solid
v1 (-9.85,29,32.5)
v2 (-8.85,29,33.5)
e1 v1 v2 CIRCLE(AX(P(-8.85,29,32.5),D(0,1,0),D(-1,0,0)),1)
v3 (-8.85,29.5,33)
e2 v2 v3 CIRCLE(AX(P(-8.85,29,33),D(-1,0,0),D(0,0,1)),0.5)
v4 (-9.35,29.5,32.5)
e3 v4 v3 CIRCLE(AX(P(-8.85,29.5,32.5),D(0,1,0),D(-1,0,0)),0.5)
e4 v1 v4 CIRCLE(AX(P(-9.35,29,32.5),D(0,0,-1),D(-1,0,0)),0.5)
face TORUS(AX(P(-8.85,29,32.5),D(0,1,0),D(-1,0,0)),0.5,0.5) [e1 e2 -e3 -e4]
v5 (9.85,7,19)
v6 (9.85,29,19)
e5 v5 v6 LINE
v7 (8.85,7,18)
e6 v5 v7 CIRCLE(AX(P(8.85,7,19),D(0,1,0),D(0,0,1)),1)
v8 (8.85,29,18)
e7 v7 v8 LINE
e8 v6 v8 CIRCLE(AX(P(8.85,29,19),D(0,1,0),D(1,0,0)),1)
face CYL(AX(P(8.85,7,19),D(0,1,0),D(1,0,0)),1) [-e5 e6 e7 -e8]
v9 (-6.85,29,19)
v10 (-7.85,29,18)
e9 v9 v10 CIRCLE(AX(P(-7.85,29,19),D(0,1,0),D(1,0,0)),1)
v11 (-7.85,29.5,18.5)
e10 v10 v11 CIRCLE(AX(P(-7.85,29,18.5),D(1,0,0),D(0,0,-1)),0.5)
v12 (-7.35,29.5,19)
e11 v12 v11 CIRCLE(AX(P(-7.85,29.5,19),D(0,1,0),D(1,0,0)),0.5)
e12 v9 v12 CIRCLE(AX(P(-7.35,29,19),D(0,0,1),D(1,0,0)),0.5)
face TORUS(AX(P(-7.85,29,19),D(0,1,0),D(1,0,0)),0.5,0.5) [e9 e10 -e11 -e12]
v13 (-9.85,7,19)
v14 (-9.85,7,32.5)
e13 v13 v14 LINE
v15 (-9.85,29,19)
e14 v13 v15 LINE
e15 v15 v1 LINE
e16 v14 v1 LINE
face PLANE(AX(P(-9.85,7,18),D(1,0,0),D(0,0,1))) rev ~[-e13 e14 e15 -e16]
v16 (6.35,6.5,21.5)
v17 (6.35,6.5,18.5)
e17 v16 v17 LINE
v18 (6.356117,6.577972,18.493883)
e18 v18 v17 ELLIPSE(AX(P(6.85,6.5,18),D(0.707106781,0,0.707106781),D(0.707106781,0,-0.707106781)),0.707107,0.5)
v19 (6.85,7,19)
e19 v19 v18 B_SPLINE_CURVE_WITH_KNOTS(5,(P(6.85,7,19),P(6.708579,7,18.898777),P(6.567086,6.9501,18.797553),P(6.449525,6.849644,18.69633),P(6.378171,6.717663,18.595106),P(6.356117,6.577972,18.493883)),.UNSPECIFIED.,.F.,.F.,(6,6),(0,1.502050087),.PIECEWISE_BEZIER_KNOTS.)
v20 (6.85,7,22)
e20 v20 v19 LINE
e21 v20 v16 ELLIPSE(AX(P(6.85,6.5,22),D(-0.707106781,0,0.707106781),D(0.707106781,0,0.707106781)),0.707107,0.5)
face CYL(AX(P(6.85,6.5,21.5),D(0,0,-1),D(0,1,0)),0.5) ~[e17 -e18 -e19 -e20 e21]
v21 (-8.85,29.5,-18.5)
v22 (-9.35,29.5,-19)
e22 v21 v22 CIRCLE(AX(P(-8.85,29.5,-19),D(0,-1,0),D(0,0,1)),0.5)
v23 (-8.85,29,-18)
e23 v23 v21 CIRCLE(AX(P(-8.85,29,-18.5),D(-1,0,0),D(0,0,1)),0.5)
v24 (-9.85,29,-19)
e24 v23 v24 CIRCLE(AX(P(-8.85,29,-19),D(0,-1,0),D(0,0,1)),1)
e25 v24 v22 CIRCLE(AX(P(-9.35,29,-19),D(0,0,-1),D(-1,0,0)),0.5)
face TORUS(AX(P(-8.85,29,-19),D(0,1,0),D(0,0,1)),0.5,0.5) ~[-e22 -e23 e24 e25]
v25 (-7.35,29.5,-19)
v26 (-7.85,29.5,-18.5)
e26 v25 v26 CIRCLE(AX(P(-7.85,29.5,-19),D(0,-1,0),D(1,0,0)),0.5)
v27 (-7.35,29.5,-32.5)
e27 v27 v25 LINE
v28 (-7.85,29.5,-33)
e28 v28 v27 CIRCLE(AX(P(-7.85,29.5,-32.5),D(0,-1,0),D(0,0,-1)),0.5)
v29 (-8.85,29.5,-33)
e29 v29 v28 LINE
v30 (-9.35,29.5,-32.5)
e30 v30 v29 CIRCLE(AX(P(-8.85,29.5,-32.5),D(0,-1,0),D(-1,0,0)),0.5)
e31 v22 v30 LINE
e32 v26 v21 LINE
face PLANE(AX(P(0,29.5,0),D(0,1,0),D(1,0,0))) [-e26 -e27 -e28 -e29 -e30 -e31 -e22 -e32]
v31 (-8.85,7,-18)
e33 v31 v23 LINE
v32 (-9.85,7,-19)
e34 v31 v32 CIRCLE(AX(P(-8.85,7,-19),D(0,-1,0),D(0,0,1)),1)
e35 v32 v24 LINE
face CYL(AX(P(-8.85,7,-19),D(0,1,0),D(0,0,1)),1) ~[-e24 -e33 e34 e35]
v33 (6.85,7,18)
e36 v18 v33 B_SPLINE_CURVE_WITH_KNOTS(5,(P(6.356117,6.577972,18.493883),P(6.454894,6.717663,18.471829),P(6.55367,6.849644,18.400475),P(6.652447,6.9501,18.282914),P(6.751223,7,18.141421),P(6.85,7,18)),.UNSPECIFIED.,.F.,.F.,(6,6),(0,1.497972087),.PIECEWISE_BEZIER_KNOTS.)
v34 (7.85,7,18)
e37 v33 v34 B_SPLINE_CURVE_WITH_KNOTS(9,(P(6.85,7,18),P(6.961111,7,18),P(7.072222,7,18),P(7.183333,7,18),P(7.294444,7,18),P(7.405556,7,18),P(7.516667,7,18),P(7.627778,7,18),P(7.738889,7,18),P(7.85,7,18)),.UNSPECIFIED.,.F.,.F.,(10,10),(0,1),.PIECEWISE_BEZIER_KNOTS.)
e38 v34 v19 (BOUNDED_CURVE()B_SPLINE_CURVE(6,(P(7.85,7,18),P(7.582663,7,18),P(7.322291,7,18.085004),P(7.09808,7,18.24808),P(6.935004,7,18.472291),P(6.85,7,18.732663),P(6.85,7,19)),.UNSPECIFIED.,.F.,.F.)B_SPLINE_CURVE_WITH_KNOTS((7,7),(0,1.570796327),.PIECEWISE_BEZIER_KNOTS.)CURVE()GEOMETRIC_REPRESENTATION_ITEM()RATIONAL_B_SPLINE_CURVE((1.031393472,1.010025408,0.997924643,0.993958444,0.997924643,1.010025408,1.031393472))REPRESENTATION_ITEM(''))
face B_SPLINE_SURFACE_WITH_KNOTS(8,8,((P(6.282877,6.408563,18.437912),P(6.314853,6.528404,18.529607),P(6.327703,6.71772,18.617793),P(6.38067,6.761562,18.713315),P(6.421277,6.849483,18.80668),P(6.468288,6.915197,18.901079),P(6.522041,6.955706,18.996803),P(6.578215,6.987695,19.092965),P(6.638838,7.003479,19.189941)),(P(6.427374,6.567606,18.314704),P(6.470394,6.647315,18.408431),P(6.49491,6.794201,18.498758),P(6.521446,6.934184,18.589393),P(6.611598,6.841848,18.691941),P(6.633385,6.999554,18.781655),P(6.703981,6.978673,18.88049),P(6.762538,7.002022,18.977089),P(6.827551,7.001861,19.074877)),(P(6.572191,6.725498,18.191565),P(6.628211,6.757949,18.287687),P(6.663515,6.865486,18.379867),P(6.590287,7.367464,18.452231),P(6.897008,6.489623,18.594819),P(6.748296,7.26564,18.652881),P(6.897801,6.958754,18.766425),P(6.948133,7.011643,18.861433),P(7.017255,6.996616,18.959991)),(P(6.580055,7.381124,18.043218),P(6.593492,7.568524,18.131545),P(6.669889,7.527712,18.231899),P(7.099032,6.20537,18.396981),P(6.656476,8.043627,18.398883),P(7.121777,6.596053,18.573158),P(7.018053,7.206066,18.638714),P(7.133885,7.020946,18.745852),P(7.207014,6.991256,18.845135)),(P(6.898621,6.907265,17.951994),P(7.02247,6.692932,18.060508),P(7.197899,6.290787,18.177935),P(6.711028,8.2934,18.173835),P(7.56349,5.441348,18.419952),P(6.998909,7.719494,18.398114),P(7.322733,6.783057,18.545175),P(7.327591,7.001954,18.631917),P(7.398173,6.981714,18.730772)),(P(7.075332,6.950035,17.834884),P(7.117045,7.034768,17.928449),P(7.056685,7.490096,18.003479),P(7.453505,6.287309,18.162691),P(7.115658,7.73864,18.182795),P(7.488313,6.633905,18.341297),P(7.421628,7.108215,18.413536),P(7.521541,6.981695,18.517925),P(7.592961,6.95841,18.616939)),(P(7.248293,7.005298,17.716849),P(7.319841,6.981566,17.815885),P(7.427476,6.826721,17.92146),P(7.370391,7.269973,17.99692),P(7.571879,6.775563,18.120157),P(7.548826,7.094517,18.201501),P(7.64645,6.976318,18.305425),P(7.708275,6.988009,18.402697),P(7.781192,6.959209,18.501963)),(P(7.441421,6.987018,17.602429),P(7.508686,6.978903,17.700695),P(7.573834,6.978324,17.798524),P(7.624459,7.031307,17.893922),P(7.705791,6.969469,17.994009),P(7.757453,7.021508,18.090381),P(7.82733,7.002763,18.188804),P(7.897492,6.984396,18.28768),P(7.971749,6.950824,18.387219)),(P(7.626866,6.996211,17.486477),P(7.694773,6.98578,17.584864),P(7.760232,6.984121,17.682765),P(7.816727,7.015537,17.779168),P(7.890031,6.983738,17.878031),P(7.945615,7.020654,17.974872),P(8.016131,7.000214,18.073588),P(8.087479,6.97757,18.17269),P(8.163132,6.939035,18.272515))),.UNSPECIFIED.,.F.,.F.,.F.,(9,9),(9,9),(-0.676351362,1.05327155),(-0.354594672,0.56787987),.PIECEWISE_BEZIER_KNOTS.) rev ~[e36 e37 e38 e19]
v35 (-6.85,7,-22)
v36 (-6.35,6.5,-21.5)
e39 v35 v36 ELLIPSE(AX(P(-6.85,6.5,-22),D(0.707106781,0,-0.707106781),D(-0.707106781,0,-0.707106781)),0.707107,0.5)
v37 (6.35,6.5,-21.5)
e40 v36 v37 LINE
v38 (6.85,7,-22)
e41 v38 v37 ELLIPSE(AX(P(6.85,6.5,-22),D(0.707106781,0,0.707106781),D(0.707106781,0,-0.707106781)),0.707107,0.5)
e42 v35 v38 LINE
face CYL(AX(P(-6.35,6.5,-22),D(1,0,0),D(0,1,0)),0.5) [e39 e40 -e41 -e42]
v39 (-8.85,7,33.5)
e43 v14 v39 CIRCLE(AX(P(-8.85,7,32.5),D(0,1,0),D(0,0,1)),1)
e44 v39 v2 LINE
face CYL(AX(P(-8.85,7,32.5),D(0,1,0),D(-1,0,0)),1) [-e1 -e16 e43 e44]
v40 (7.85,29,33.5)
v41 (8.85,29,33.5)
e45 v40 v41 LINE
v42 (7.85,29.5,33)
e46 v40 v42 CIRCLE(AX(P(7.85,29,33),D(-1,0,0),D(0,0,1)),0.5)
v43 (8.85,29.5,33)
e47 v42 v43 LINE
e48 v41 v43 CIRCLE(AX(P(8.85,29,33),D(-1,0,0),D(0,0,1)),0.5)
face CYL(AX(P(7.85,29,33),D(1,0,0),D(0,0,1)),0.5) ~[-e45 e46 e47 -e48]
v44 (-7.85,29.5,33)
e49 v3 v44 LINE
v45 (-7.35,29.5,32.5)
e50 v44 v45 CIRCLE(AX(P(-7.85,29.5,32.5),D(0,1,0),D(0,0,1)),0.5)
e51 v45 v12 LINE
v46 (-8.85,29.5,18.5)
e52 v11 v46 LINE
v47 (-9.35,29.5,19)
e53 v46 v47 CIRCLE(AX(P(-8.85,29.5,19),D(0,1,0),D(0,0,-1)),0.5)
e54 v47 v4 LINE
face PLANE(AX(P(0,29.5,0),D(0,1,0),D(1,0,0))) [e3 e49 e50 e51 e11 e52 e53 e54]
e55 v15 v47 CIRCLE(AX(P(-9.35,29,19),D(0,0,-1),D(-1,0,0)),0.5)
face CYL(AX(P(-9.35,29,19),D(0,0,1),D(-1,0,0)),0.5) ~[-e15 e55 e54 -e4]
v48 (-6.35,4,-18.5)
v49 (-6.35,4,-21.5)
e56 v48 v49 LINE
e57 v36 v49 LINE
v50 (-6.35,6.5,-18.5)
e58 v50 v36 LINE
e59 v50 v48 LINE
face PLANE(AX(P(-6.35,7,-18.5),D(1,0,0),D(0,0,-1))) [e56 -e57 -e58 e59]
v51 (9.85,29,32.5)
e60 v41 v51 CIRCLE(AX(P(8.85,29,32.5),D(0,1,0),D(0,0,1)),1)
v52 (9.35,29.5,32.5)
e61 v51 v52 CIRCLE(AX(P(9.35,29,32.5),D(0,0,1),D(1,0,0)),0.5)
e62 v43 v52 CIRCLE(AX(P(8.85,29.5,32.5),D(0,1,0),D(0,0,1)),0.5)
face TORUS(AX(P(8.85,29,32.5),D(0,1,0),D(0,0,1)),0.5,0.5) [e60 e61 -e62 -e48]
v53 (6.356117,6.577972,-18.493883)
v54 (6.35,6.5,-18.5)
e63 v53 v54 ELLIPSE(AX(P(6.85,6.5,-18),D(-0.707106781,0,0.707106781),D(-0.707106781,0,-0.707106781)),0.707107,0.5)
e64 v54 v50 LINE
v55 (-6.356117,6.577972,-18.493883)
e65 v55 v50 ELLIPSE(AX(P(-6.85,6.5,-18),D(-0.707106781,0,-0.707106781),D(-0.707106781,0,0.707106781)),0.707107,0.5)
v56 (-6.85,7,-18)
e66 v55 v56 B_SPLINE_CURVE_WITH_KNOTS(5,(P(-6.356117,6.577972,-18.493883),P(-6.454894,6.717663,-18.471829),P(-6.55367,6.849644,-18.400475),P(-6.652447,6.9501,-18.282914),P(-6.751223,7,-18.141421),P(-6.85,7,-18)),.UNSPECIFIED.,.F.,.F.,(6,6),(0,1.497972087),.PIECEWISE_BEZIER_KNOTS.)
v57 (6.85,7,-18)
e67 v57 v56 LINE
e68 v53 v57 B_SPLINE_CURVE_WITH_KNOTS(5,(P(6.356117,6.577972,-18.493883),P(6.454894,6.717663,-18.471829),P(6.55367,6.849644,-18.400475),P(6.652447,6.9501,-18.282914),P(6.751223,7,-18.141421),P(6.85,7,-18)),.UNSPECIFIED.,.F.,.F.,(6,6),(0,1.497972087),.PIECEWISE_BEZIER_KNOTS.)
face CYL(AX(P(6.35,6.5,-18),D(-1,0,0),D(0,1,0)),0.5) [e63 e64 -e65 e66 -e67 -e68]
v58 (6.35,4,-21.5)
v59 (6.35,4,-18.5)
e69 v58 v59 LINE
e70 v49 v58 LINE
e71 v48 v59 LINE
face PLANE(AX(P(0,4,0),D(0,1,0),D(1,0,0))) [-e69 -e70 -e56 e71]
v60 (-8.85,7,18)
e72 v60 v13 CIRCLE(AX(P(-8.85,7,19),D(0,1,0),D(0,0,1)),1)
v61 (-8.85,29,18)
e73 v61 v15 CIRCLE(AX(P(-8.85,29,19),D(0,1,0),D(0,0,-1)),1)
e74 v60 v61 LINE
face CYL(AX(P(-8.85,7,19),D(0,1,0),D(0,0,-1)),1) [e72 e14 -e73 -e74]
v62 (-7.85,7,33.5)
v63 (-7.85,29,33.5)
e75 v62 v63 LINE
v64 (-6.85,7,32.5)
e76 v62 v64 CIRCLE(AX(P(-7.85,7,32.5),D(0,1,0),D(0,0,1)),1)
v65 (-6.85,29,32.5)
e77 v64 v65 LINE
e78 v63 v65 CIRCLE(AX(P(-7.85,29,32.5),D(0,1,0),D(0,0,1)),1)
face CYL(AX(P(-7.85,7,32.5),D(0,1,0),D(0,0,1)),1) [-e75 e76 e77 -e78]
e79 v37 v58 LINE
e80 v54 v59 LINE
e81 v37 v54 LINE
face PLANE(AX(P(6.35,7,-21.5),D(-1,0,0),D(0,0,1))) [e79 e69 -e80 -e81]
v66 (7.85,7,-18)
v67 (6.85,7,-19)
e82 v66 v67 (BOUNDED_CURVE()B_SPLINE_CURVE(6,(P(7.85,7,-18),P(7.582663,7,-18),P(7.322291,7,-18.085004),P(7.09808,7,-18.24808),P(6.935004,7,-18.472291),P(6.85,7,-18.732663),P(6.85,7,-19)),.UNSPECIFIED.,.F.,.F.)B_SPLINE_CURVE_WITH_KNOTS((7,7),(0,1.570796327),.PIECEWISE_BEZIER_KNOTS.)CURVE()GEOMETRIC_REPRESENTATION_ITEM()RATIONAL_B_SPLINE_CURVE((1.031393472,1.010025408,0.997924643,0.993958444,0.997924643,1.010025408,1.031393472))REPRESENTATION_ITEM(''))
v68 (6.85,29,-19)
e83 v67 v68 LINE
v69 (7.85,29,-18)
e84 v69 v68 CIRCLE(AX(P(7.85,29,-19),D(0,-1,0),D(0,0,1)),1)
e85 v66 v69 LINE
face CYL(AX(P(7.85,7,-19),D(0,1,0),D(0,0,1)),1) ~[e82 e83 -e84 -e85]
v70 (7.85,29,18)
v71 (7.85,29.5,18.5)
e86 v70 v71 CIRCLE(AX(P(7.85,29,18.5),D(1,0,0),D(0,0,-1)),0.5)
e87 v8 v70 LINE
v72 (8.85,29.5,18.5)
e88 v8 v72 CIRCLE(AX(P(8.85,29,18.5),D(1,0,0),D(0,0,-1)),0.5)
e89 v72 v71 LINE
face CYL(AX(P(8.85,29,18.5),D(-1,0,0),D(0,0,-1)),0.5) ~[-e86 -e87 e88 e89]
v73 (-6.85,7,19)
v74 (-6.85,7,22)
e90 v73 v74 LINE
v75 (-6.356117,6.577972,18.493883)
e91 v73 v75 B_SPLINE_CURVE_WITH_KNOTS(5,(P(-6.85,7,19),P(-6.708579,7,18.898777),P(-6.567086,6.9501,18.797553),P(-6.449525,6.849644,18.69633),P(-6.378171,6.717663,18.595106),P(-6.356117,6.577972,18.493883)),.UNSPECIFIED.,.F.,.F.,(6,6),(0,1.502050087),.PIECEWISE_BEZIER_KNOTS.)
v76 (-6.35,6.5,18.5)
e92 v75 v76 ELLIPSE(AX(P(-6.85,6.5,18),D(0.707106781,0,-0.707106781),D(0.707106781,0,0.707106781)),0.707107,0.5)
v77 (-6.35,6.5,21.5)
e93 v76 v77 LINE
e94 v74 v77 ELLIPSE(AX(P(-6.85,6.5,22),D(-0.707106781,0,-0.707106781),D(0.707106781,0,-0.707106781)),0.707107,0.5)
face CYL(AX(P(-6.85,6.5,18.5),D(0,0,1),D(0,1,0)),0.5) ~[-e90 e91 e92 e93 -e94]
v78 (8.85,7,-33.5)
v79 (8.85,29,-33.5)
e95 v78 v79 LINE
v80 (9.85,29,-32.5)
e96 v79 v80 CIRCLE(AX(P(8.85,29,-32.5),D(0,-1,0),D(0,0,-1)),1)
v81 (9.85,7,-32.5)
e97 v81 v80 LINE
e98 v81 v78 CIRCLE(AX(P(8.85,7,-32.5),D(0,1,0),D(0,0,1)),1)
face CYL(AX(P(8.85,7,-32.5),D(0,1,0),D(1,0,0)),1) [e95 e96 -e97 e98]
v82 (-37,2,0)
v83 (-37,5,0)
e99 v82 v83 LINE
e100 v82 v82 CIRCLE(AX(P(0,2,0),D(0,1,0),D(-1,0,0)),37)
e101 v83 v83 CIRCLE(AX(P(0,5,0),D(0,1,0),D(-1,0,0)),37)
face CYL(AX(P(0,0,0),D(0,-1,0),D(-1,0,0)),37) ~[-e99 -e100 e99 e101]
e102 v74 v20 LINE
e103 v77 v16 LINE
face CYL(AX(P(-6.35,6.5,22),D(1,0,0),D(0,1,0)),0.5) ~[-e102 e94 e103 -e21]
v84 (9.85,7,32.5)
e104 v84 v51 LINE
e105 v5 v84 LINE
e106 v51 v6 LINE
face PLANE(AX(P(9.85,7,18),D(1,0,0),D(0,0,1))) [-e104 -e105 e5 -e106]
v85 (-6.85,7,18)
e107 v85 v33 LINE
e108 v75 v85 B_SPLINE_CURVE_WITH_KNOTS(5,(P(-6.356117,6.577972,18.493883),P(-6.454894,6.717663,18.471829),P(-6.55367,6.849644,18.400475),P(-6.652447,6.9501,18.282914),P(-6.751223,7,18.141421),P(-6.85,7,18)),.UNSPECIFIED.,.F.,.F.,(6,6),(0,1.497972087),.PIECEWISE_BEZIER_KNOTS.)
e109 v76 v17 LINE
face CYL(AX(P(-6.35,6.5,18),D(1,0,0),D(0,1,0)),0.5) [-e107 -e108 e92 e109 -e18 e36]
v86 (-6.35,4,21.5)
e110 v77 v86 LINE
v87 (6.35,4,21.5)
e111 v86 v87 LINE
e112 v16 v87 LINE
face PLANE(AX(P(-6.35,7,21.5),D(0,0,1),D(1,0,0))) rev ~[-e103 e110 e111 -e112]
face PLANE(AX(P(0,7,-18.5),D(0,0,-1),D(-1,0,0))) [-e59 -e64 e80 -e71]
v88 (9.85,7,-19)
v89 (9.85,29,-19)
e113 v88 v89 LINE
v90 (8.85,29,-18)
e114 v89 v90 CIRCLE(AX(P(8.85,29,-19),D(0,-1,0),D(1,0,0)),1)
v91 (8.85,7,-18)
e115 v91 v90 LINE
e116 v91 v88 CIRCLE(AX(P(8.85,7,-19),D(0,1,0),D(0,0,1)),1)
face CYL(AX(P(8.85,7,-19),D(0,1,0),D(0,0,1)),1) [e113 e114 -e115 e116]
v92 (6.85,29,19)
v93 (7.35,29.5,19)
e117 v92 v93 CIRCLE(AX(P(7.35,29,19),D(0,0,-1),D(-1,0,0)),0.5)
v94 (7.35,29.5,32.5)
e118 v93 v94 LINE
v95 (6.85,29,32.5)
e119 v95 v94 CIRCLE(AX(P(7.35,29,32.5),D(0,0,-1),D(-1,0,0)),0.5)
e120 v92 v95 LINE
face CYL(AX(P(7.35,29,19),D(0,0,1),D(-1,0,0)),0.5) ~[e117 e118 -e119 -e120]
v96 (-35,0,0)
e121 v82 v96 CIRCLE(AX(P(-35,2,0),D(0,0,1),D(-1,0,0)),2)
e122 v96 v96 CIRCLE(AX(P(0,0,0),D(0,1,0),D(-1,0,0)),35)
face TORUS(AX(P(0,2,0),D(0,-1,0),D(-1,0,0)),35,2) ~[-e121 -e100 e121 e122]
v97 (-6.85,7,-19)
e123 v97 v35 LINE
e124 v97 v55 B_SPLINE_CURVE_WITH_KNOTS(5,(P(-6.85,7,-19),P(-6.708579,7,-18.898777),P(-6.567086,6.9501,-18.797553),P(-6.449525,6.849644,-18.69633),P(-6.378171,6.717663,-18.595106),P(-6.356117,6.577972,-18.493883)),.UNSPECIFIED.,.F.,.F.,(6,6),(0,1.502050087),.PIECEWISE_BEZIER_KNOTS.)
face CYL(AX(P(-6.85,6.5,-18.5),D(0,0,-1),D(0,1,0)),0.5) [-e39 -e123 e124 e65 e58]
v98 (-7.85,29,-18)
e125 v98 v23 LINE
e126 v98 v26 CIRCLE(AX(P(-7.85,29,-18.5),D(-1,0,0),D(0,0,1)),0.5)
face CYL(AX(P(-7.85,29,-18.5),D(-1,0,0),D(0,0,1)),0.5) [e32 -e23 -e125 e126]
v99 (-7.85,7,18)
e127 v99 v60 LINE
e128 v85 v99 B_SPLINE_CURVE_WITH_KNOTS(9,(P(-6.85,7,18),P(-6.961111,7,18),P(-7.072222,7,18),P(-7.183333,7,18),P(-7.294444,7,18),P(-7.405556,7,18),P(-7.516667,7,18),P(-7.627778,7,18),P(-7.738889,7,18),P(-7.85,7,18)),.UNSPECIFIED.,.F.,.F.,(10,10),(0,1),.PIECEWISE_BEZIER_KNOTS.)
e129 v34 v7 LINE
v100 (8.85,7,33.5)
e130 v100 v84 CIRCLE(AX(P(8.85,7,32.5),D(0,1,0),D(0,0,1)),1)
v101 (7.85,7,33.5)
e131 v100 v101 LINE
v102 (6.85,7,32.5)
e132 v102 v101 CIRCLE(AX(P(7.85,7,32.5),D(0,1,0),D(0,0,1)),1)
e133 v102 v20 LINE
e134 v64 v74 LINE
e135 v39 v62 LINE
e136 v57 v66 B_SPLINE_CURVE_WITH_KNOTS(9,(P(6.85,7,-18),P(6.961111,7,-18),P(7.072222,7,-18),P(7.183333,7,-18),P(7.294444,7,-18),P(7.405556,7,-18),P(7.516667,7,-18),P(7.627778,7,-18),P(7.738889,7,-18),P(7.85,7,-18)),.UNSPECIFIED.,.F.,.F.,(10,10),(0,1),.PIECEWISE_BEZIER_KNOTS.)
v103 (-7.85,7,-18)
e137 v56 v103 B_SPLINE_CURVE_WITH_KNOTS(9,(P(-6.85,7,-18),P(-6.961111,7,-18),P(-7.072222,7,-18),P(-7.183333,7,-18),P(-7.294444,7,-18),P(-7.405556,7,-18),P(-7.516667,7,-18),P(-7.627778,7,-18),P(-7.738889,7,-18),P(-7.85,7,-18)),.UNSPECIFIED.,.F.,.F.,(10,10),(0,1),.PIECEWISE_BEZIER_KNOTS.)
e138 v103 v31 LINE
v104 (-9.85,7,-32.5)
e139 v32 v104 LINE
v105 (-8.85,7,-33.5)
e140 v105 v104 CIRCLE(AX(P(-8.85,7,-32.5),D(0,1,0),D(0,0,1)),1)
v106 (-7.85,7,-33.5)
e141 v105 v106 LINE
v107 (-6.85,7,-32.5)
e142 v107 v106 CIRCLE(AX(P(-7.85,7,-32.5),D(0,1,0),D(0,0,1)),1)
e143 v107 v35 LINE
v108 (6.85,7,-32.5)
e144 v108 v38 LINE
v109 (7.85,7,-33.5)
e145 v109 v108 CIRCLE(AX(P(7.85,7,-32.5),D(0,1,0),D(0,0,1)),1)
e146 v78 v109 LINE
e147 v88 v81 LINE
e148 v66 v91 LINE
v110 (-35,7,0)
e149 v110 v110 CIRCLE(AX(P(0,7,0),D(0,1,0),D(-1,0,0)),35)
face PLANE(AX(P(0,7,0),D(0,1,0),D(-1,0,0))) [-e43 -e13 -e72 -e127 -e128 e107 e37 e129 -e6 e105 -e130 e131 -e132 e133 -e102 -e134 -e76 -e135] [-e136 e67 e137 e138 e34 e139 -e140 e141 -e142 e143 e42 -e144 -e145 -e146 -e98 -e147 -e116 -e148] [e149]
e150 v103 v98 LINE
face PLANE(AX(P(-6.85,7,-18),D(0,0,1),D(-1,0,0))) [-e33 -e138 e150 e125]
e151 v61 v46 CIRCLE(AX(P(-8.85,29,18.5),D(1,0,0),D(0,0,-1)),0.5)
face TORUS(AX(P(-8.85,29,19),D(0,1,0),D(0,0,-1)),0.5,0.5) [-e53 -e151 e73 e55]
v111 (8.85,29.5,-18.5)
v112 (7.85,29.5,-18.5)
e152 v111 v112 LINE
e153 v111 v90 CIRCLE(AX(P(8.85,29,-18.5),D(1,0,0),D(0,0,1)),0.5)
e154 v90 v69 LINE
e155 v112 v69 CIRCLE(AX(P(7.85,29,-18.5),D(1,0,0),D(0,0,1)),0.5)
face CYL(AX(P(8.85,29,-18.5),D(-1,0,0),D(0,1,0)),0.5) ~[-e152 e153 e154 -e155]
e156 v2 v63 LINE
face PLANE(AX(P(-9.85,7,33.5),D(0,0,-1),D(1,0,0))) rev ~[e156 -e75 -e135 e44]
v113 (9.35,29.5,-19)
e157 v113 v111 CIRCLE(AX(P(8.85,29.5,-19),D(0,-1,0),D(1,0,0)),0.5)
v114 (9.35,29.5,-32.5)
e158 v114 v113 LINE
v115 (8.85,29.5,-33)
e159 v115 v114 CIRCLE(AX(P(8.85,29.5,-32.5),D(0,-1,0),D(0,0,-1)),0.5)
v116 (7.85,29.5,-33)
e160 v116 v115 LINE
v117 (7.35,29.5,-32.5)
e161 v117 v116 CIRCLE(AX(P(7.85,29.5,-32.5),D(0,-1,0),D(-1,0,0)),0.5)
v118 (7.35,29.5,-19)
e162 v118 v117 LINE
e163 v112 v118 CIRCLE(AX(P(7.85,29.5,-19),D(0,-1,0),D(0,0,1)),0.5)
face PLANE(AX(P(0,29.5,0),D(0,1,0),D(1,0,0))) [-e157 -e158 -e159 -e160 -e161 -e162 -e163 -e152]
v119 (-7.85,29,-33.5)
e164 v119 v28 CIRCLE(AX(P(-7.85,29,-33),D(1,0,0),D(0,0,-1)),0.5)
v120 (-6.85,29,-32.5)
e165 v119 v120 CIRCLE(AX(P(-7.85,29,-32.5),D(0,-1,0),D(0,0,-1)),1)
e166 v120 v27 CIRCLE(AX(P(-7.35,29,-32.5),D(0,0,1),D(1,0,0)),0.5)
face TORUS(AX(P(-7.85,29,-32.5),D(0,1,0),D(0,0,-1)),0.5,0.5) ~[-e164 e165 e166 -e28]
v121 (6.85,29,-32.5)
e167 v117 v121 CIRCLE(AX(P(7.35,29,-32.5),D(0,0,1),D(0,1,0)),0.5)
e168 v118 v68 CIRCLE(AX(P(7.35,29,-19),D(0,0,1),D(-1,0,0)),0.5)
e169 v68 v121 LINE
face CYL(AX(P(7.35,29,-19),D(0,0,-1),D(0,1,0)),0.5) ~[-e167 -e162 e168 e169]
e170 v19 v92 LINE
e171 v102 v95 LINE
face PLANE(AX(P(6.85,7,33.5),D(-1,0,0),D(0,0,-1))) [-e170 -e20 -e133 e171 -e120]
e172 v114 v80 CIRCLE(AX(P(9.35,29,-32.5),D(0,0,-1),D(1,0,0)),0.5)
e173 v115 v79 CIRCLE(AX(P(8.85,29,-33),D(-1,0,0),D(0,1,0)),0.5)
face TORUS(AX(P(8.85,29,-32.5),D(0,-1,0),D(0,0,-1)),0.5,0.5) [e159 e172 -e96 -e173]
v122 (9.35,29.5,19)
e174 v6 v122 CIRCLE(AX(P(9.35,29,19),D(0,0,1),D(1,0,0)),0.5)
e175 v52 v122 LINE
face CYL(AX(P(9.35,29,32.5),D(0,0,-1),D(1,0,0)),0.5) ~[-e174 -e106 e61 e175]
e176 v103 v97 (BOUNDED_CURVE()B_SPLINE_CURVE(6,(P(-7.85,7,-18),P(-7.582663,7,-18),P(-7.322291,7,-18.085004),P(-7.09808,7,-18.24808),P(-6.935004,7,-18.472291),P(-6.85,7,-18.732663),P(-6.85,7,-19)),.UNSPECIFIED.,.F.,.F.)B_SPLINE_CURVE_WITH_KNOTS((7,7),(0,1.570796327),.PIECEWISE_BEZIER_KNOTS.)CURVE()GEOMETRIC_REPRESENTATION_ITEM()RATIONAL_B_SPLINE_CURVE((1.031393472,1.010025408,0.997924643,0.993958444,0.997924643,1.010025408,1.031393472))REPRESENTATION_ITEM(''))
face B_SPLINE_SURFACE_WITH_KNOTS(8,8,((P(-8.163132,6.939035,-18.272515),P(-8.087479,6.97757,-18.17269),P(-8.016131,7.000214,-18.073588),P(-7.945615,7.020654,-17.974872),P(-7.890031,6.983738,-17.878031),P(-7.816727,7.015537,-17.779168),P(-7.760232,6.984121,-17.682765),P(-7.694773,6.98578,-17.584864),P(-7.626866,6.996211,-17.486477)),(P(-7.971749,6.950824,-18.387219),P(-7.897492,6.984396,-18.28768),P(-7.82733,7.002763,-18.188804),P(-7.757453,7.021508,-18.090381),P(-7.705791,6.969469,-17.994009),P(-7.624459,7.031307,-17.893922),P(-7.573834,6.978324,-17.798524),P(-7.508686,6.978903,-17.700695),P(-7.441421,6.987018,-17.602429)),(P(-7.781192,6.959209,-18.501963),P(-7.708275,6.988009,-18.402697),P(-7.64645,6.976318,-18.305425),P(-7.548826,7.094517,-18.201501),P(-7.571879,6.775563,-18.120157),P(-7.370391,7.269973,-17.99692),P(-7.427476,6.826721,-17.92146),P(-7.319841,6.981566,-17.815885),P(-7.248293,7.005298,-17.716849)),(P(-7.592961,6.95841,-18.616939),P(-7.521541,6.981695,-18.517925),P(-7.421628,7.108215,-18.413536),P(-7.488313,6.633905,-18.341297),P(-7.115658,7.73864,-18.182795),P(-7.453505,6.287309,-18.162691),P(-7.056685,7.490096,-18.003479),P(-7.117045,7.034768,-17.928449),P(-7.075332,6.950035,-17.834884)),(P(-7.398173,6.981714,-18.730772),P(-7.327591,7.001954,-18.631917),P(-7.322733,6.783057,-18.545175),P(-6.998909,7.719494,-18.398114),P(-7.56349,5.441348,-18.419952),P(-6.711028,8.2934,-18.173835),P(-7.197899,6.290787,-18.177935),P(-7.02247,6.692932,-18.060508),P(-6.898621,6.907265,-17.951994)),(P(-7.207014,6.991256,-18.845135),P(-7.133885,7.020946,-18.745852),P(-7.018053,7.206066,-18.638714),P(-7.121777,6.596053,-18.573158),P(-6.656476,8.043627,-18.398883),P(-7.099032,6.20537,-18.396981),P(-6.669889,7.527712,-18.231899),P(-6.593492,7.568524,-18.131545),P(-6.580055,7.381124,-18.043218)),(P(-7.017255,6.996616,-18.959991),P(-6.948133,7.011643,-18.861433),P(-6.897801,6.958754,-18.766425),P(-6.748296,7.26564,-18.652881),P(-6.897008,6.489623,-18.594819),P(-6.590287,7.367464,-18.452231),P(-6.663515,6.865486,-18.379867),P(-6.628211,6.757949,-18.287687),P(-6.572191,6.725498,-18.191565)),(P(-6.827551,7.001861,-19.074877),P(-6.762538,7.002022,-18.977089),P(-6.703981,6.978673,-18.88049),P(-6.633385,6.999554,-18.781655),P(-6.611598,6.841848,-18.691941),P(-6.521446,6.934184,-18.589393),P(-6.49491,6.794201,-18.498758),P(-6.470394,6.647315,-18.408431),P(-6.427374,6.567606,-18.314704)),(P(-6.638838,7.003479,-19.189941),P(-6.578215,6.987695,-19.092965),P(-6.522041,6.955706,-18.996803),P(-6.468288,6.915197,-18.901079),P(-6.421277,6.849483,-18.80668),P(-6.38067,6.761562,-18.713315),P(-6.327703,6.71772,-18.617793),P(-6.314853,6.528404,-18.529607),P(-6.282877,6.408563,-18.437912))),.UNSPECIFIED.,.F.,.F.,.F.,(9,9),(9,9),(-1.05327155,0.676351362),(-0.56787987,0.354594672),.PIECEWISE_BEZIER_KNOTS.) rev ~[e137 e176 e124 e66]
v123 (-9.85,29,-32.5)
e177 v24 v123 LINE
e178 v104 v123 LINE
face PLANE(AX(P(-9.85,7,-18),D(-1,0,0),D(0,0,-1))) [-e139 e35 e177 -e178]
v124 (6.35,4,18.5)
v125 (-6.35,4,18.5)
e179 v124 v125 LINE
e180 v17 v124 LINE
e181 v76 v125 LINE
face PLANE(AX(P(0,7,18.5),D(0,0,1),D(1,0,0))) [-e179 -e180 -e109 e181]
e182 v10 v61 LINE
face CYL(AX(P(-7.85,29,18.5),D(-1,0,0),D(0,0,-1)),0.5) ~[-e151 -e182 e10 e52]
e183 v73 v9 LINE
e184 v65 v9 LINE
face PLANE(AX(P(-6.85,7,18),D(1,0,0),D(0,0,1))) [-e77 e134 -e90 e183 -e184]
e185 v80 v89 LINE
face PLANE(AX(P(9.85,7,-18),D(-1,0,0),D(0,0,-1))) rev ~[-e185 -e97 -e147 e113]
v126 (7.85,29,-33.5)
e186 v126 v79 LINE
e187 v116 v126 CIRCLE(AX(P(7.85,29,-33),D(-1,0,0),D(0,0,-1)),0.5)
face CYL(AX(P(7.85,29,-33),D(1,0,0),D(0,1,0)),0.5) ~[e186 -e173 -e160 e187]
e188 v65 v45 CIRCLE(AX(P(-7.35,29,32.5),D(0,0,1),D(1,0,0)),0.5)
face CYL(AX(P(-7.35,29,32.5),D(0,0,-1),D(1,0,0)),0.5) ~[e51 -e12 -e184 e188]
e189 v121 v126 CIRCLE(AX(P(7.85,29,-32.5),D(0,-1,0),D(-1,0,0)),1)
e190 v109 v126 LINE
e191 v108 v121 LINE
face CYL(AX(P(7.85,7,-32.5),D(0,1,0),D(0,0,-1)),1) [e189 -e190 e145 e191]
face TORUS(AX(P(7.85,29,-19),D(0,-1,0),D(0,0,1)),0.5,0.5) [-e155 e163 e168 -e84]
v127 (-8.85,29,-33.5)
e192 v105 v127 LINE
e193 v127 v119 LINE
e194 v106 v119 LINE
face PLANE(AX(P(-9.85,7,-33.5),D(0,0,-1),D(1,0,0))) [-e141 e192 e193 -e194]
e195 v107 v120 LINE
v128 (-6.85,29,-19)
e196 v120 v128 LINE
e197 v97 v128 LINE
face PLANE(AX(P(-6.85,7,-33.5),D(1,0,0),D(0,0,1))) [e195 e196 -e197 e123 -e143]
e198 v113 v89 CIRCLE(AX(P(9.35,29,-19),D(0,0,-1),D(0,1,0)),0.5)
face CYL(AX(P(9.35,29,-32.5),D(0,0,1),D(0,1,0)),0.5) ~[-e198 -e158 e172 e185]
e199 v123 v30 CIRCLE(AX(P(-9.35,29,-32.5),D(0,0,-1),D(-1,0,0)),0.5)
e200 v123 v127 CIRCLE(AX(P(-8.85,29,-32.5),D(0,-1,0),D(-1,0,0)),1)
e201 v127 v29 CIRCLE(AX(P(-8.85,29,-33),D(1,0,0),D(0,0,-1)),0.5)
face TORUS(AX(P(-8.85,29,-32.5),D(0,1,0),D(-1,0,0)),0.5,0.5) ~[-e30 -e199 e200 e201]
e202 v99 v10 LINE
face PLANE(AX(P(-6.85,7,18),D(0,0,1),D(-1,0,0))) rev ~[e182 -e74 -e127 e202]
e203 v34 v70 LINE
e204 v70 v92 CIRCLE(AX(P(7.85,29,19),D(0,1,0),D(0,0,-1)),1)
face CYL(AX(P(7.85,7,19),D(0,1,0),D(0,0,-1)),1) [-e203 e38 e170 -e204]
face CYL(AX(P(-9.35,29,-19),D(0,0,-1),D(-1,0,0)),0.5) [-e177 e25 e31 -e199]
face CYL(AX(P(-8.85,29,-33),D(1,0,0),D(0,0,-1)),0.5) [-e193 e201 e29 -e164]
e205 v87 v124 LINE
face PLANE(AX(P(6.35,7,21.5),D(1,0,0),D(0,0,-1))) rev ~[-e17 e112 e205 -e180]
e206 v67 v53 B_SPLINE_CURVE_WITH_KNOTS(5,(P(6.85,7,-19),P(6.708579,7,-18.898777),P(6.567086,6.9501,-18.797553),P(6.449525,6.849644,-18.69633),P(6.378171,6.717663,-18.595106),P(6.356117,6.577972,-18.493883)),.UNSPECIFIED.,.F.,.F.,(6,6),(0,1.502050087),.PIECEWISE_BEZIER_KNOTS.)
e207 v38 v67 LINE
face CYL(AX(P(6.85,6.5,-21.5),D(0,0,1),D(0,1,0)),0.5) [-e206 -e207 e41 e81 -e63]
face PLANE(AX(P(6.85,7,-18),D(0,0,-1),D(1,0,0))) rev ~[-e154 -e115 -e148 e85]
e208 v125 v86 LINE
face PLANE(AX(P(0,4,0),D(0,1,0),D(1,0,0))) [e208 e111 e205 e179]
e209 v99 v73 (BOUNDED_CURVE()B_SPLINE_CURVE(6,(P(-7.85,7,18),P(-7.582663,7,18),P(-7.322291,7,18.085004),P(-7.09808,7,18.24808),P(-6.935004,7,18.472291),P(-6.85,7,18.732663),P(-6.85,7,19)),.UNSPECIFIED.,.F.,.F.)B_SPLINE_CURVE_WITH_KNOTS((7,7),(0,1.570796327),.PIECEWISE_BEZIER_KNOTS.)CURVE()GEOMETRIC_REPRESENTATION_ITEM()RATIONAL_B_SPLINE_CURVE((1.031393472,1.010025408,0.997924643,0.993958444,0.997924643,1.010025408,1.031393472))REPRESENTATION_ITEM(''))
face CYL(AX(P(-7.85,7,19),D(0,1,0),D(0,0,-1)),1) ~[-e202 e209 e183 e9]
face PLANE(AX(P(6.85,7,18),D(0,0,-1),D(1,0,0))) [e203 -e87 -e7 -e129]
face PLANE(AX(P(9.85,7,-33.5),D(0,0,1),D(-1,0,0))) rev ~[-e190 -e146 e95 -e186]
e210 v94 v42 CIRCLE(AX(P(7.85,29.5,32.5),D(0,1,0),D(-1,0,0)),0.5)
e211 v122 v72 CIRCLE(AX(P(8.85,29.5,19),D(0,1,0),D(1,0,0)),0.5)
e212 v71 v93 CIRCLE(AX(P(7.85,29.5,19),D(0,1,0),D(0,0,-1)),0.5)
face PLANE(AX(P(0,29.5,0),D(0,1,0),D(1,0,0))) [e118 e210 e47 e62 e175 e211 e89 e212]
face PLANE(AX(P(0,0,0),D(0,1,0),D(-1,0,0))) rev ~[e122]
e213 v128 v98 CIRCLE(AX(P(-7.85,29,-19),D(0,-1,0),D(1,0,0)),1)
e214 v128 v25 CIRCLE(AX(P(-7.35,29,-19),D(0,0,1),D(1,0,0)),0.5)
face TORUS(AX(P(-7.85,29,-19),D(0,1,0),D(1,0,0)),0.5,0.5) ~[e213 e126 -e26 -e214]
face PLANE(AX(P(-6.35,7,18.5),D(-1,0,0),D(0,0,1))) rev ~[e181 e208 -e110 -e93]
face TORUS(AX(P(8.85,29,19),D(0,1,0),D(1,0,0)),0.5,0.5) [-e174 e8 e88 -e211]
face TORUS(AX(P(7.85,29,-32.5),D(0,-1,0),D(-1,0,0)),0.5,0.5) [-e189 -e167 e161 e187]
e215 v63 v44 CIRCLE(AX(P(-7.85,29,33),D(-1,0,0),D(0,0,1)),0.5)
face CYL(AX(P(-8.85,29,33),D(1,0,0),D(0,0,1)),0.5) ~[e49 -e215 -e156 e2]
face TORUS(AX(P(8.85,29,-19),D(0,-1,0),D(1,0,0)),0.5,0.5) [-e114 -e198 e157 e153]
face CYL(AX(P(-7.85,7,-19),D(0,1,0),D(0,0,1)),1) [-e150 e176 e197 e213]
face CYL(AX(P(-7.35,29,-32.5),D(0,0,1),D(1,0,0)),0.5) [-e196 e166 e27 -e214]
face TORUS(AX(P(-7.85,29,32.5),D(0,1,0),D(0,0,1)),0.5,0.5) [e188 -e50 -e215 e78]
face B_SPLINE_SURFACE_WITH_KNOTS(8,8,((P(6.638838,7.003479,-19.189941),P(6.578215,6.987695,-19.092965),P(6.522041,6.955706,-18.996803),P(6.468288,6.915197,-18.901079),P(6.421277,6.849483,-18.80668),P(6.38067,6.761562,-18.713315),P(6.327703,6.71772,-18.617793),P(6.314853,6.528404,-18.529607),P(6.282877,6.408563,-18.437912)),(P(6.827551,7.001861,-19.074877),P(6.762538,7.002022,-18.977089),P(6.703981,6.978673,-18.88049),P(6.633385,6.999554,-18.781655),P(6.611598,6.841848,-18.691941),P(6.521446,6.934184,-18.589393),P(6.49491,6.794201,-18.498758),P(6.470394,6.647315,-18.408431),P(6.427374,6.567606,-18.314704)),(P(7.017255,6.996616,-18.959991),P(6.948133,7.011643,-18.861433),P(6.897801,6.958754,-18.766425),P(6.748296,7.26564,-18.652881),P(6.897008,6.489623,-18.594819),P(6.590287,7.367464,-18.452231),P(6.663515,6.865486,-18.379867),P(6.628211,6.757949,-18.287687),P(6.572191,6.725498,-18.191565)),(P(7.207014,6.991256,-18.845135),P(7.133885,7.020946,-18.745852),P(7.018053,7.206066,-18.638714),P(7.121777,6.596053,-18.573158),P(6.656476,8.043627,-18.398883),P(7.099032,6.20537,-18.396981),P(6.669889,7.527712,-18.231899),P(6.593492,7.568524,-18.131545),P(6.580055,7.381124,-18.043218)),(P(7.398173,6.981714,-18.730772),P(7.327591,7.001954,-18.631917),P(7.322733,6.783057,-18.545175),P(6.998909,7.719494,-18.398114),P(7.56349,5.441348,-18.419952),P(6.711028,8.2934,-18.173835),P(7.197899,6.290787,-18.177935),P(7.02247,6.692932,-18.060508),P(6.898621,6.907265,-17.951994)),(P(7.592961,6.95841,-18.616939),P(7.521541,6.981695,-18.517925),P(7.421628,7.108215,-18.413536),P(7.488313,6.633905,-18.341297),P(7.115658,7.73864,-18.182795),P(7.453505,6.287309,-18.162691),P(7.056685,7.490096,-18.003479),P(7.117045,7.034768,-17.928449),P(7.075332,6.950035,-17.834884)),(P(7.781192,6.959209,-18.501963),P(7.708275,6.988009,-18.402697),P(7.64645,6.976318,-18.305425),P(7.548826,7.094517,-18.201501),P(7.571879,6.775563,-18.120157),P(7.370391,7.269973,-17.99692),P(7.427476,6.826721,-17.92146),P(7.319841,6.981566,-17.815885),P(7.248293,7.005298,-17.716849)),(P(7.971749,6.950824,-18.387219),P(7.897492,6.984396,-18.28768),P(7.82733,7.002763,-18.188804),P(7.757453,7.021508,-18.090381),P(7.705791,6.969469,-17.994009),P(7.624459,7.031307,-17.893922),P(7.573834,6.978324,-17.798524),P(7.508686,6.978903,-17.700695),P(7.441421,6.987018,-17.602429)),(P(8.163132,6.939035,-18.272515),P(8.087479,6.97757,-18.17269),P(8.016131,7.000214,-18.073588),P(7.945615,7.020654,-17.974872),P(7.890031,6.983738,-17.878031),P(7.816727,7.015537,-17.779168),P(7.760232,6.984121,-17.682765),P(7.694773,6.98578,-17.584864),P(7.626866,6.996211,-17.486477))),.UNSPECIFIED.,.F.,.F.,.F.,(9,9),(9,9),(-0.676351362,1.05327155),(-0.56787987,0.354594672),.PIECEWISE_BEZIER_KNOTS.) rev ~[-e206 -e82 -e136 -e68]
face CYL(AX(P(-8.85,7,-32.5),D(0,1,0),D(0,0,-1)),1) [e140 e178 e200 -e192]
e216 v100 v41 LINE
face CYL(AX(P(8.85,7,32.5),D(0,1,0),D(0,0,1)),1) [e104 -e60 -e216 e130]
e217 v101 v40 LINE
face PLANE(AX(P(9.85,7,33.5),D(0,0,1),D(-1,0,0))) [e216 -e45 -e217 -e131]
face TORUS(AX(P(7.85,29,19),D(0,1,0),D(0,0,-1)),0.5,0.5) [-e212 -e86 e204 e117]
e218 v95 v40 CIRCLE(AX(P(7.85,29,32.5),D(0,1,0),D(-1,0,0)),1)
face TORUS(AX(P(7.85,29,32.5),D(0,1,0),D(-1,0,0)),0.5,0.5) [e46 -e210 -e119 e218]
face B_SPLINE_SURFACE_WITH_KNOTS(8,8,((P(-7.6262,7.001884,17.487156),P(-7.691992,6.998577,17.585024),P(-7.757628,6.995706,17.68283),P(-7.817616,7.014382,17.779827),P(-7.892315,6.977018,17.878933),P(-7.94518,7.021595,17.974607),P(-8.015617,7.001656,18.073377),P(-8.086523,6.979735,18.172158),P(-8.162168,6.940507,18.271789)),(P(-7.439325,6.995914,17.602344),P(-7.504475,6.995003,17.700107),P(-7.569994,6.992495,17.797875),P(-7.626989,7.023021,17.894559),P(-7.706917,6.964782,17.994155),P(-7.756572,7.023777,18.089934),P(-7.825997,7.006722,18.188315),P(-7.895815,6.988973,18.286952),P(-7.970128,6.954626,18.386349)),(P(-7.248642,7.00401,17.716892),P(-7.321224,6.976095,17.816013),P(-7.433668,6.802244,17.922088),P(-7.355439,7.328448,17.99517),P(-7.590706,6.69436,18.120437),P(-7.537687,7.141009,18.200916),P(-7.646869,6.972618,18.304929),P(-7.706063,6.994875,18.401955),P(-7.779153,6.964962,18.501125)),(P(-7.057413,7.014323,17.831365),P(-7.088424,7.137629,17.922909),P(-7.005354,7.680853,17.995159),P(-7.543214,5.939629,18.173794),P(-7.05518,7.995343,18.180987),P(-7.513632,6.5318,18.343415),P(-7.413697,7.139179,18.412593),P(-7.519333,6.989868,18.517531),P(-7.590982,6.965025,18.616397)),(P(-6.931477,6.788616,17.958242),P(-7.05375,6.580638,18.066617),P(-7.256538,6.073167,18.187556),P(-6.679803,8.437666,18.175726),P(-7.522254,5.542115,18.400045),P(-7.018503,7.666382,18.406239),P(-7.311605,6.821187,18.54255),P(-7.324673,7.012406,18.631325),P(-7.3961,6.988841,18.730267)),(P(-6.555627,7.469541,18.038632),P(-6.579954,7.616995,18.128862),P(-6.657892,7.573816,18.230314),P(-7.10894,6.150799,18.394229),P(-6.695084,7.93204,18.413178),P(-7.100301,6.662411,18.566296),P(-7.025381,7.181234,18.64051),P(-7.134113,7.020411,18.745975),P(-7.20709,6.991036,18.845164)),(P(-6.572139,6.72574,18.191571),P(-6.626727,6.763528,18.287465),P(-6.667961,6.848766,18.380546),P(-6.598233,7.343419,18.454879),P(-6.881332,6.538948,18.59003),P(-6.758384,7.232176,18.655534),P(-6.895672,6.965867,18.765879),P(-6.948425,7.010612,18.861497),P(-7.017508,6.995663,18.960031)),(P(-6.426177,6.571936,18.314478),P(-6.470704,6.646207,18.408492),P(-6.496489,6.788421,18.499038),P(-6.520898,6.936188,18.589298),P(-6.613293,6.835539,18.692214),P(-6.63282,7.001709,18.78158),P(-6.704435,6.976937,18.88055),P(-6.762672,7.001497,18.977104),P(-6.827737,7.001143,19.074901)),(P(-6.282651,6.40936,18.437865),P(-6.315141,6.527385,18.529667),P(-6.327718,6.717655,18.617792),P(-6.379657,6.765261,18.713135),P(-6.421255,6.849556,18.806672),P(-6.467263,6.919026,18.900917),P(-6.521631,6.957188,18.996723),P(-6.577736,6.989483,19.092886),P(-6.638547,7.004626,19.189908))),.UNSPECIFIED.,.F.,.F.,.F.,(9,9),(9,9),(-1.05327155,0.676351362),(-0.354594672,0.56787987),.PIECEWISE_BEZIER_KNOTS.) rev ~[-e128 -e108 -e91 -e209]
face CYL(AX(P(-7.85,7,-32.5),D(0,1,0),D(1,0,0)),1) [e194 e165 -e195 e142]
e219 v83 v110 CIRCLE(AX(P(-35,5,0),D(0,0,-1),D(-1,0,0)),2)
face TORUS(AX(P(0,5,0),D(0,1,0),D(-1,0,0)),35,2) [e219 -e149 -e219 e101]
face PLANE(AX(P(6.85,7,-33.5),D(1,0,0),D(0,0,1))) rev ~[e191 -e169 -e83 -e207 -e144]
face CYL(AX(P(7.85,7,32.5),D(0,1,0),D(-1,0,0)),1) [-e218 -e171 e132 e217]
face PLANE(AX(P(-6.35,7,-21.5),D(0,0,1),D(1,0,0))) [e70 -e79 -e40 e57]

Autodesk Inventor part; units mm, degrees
ref_plane "YZ Plane" through (0, 0, 0) normal (1, 0, 0) x (0, 1, 0)
ref_plane "XZ Plane" through (0, 0, 0) normal (0, 1, 0) x (-1, 0, 0)
ref_plane "XY Plane" through (0, 0, 0) normal (0, 0, 1) x (1, 0, 0)
sketch "Schizzo1" plane through (0, 0, 0) normal (0, 1, 0) x (-1, 0, 0)
  circle A0 centre (0, 0) radius 37
  dimension "d0" = 74
extrude "Estrusione1" add sketch "Schizzo1" along normal blind 7
fillet "Raccordo1" radius 2 1 edges at (37, 7, 0)
fillet "Raccordo2" radius 2 1 edges at (37, 0, 0)
sketch "Schizzo2" plane through (0, 7, 0) normal (0, 1, 0) x (1, 0, 0)
  circle A0 centre (0, 0) radius 35 projected
  line L0 (0, -18.5) -> (-6.35, -18.5)
  line L1 (0, -18.5) -> (6.35, -18.5)
  line L2 (-6.35, -18.5) -> (-6.35, -21.5)
  line L3 (-6.35, -21.5) -> (6.35, -21.5)
  line L4 (6.35, -21.5) -> (6.35, -18.5)
  line L5 (0, 18.5) -> (-6.35, 18.5)
  line L6 (0, 18.5) -> (6.35, 18.5)
  line L7 (-6.35, 18.5) -> (-6.35, 21.5)
  line L8 (-6.35, 21.5) -> (6.35, 21.5)
  line L9 (6.35, 21.5) -> (6.35, 18.5)
  dimension "d10" = 6.35
  dimension "d12" = 3
extrude "Estrusione2" cut sketch "Schizzo2" against normal blind 3 contours L1 L4 L3 L2 L0 | L5 L7 L8 L9 L6
fillet "Raccordo3" radius 0.5 8 edges at (0, 7, 18.5) (0, 7, 21.5) (-6.35, 7, 20) (6.35, 7, 20) (0, 7, -18.5) (-6.35, 7, -20) (0, 7, -21.5) (6.35, 7, -20)
sketch "Schizzo3" plane through (0, 7, 0) normal (0, 1, 0) x (1, 0, 0)
  line L0 (-6.85, -18) -> (-6.85, -22) projected
  line L1 (-6.85, -18) -> (-9.85, -18)
  line L2 (-9.85, -18) -> (-9.85, -33.5)
  line L3 (-9.85, -33.5) -> (-6.85, -33.5)
  line L4 (-6.85, -33.5) -> (-6.85, -18)
  line L5 (6.85, -18) -> (-6.85, -18) projected
  line L6 (6.85, -18) -> (9.85, -18)
  line L7 (9.85, -18) -> (9.85, -33.5)
  line L8 (9.85, -33.5) -> (6.85, -33.5)
  line L9 (6.85, -33.5) -> (6.85, -18)
  line L10 (-6.85, 18) -> (-9.85, 18)
  line L11 (-9.85, 18) -> (-9.85, 33.5)
  line L12 (-9.85, 33.5) -> (-6.85, 33.5)
  line L13 (-6.85, 33.5) -> (-6.85, 18)
  line L14 (9.85, 18) -> (9.85, 33.5)
  line L15 (9.85, 33.5) -> (6.85, 33.5)
  line L16 (6.85, 33.5) -> (6.85, 18)
  line L17 (6.85, 18) -> (9.85, 18)
  point P0 (0, 0)
  dimension "d16" = 15.5
  dimension "d17" = 3
extrude "Estrusione3" add sketch "Schizzo3" along normal blind 22.5
fillet "Raccordo4" radius 1 16 edges at (9.85, 18.25, 18) (-6.85, 18.25, 18) (-9.85, 18.25, 18) (6.85, 18.25, 18) (9.85, 18.25, -18) (6.85, 18.25, -18) (-6.85, 18.25, -18) (-9.85, 18.25, -18) (9.85, 18.25, -33.5) (6.85, 18.25, -33.5) (-6.85, 18.25, -33.5) (-9.85, 18.25, -33.5) (-9.85, 18.25, 33.5) (-6.85, 18.25, 33.5) (6.85, 18.25, 33.5) (9.85, 18.25, 33.5)
fillet "Raccordo5" radius 0.5 32 edges at (-9.5571, 29.5, 33.2071) (-8.35, 29.5, 33.5) (-7.1429, 29.5, 33.2071) (-6.85, 29.5, 25.75) (-7.1429, 29.5, 18.2929) (-8.35, 29.5, 18) (-9.5571, 29.5, 18.2929) (-9.85, 29.5, 25.75) (7.1429, 29.5, 33.2071) (8.35, 29.5, 33.5) (9.5571, 29.5, 33.2071) (9.85, 29.5, 25.75) (9.5571, 29.5, 18.2929) (8.35, 29.5, 18) (7.1429, 29.5, 18.2929) (6.85, 29.5, 25.75) (-9.5571, 29.5, -18.2929) (-8.35, 29.5, -18) (-7.1429, 29.5, -18.2929) (-6.85, 29.5, -25.75) (-7.1429, 29.5, -33.2071) (-8.35, 29.5, -33.5) (-9.5571, 29.5, -33.2071) (-9.85, 29.5, -25.75) (7.1429, 29.5, -18.2929) (8.35, 29.5, -18) (9.5571, 29.5, -18.2929) (9.85, 29.5, -25.75) (9.5571, 29.5, -33.2071) (8.35, 29.5, -33.5) (7.1429, 29.5, -33.2071) (6.85, 29.5, -25.75)
sketch "Schizzo4" plane through (0, 7, 0) normal (0, 1, 0) x (1, 0, 0)
  line L0 (-6.85, 18) -> (6.85, 18) projected
  line L1 (6.85, -18) -> (-6.85, -18) projected
properties part number "TAPPO"
